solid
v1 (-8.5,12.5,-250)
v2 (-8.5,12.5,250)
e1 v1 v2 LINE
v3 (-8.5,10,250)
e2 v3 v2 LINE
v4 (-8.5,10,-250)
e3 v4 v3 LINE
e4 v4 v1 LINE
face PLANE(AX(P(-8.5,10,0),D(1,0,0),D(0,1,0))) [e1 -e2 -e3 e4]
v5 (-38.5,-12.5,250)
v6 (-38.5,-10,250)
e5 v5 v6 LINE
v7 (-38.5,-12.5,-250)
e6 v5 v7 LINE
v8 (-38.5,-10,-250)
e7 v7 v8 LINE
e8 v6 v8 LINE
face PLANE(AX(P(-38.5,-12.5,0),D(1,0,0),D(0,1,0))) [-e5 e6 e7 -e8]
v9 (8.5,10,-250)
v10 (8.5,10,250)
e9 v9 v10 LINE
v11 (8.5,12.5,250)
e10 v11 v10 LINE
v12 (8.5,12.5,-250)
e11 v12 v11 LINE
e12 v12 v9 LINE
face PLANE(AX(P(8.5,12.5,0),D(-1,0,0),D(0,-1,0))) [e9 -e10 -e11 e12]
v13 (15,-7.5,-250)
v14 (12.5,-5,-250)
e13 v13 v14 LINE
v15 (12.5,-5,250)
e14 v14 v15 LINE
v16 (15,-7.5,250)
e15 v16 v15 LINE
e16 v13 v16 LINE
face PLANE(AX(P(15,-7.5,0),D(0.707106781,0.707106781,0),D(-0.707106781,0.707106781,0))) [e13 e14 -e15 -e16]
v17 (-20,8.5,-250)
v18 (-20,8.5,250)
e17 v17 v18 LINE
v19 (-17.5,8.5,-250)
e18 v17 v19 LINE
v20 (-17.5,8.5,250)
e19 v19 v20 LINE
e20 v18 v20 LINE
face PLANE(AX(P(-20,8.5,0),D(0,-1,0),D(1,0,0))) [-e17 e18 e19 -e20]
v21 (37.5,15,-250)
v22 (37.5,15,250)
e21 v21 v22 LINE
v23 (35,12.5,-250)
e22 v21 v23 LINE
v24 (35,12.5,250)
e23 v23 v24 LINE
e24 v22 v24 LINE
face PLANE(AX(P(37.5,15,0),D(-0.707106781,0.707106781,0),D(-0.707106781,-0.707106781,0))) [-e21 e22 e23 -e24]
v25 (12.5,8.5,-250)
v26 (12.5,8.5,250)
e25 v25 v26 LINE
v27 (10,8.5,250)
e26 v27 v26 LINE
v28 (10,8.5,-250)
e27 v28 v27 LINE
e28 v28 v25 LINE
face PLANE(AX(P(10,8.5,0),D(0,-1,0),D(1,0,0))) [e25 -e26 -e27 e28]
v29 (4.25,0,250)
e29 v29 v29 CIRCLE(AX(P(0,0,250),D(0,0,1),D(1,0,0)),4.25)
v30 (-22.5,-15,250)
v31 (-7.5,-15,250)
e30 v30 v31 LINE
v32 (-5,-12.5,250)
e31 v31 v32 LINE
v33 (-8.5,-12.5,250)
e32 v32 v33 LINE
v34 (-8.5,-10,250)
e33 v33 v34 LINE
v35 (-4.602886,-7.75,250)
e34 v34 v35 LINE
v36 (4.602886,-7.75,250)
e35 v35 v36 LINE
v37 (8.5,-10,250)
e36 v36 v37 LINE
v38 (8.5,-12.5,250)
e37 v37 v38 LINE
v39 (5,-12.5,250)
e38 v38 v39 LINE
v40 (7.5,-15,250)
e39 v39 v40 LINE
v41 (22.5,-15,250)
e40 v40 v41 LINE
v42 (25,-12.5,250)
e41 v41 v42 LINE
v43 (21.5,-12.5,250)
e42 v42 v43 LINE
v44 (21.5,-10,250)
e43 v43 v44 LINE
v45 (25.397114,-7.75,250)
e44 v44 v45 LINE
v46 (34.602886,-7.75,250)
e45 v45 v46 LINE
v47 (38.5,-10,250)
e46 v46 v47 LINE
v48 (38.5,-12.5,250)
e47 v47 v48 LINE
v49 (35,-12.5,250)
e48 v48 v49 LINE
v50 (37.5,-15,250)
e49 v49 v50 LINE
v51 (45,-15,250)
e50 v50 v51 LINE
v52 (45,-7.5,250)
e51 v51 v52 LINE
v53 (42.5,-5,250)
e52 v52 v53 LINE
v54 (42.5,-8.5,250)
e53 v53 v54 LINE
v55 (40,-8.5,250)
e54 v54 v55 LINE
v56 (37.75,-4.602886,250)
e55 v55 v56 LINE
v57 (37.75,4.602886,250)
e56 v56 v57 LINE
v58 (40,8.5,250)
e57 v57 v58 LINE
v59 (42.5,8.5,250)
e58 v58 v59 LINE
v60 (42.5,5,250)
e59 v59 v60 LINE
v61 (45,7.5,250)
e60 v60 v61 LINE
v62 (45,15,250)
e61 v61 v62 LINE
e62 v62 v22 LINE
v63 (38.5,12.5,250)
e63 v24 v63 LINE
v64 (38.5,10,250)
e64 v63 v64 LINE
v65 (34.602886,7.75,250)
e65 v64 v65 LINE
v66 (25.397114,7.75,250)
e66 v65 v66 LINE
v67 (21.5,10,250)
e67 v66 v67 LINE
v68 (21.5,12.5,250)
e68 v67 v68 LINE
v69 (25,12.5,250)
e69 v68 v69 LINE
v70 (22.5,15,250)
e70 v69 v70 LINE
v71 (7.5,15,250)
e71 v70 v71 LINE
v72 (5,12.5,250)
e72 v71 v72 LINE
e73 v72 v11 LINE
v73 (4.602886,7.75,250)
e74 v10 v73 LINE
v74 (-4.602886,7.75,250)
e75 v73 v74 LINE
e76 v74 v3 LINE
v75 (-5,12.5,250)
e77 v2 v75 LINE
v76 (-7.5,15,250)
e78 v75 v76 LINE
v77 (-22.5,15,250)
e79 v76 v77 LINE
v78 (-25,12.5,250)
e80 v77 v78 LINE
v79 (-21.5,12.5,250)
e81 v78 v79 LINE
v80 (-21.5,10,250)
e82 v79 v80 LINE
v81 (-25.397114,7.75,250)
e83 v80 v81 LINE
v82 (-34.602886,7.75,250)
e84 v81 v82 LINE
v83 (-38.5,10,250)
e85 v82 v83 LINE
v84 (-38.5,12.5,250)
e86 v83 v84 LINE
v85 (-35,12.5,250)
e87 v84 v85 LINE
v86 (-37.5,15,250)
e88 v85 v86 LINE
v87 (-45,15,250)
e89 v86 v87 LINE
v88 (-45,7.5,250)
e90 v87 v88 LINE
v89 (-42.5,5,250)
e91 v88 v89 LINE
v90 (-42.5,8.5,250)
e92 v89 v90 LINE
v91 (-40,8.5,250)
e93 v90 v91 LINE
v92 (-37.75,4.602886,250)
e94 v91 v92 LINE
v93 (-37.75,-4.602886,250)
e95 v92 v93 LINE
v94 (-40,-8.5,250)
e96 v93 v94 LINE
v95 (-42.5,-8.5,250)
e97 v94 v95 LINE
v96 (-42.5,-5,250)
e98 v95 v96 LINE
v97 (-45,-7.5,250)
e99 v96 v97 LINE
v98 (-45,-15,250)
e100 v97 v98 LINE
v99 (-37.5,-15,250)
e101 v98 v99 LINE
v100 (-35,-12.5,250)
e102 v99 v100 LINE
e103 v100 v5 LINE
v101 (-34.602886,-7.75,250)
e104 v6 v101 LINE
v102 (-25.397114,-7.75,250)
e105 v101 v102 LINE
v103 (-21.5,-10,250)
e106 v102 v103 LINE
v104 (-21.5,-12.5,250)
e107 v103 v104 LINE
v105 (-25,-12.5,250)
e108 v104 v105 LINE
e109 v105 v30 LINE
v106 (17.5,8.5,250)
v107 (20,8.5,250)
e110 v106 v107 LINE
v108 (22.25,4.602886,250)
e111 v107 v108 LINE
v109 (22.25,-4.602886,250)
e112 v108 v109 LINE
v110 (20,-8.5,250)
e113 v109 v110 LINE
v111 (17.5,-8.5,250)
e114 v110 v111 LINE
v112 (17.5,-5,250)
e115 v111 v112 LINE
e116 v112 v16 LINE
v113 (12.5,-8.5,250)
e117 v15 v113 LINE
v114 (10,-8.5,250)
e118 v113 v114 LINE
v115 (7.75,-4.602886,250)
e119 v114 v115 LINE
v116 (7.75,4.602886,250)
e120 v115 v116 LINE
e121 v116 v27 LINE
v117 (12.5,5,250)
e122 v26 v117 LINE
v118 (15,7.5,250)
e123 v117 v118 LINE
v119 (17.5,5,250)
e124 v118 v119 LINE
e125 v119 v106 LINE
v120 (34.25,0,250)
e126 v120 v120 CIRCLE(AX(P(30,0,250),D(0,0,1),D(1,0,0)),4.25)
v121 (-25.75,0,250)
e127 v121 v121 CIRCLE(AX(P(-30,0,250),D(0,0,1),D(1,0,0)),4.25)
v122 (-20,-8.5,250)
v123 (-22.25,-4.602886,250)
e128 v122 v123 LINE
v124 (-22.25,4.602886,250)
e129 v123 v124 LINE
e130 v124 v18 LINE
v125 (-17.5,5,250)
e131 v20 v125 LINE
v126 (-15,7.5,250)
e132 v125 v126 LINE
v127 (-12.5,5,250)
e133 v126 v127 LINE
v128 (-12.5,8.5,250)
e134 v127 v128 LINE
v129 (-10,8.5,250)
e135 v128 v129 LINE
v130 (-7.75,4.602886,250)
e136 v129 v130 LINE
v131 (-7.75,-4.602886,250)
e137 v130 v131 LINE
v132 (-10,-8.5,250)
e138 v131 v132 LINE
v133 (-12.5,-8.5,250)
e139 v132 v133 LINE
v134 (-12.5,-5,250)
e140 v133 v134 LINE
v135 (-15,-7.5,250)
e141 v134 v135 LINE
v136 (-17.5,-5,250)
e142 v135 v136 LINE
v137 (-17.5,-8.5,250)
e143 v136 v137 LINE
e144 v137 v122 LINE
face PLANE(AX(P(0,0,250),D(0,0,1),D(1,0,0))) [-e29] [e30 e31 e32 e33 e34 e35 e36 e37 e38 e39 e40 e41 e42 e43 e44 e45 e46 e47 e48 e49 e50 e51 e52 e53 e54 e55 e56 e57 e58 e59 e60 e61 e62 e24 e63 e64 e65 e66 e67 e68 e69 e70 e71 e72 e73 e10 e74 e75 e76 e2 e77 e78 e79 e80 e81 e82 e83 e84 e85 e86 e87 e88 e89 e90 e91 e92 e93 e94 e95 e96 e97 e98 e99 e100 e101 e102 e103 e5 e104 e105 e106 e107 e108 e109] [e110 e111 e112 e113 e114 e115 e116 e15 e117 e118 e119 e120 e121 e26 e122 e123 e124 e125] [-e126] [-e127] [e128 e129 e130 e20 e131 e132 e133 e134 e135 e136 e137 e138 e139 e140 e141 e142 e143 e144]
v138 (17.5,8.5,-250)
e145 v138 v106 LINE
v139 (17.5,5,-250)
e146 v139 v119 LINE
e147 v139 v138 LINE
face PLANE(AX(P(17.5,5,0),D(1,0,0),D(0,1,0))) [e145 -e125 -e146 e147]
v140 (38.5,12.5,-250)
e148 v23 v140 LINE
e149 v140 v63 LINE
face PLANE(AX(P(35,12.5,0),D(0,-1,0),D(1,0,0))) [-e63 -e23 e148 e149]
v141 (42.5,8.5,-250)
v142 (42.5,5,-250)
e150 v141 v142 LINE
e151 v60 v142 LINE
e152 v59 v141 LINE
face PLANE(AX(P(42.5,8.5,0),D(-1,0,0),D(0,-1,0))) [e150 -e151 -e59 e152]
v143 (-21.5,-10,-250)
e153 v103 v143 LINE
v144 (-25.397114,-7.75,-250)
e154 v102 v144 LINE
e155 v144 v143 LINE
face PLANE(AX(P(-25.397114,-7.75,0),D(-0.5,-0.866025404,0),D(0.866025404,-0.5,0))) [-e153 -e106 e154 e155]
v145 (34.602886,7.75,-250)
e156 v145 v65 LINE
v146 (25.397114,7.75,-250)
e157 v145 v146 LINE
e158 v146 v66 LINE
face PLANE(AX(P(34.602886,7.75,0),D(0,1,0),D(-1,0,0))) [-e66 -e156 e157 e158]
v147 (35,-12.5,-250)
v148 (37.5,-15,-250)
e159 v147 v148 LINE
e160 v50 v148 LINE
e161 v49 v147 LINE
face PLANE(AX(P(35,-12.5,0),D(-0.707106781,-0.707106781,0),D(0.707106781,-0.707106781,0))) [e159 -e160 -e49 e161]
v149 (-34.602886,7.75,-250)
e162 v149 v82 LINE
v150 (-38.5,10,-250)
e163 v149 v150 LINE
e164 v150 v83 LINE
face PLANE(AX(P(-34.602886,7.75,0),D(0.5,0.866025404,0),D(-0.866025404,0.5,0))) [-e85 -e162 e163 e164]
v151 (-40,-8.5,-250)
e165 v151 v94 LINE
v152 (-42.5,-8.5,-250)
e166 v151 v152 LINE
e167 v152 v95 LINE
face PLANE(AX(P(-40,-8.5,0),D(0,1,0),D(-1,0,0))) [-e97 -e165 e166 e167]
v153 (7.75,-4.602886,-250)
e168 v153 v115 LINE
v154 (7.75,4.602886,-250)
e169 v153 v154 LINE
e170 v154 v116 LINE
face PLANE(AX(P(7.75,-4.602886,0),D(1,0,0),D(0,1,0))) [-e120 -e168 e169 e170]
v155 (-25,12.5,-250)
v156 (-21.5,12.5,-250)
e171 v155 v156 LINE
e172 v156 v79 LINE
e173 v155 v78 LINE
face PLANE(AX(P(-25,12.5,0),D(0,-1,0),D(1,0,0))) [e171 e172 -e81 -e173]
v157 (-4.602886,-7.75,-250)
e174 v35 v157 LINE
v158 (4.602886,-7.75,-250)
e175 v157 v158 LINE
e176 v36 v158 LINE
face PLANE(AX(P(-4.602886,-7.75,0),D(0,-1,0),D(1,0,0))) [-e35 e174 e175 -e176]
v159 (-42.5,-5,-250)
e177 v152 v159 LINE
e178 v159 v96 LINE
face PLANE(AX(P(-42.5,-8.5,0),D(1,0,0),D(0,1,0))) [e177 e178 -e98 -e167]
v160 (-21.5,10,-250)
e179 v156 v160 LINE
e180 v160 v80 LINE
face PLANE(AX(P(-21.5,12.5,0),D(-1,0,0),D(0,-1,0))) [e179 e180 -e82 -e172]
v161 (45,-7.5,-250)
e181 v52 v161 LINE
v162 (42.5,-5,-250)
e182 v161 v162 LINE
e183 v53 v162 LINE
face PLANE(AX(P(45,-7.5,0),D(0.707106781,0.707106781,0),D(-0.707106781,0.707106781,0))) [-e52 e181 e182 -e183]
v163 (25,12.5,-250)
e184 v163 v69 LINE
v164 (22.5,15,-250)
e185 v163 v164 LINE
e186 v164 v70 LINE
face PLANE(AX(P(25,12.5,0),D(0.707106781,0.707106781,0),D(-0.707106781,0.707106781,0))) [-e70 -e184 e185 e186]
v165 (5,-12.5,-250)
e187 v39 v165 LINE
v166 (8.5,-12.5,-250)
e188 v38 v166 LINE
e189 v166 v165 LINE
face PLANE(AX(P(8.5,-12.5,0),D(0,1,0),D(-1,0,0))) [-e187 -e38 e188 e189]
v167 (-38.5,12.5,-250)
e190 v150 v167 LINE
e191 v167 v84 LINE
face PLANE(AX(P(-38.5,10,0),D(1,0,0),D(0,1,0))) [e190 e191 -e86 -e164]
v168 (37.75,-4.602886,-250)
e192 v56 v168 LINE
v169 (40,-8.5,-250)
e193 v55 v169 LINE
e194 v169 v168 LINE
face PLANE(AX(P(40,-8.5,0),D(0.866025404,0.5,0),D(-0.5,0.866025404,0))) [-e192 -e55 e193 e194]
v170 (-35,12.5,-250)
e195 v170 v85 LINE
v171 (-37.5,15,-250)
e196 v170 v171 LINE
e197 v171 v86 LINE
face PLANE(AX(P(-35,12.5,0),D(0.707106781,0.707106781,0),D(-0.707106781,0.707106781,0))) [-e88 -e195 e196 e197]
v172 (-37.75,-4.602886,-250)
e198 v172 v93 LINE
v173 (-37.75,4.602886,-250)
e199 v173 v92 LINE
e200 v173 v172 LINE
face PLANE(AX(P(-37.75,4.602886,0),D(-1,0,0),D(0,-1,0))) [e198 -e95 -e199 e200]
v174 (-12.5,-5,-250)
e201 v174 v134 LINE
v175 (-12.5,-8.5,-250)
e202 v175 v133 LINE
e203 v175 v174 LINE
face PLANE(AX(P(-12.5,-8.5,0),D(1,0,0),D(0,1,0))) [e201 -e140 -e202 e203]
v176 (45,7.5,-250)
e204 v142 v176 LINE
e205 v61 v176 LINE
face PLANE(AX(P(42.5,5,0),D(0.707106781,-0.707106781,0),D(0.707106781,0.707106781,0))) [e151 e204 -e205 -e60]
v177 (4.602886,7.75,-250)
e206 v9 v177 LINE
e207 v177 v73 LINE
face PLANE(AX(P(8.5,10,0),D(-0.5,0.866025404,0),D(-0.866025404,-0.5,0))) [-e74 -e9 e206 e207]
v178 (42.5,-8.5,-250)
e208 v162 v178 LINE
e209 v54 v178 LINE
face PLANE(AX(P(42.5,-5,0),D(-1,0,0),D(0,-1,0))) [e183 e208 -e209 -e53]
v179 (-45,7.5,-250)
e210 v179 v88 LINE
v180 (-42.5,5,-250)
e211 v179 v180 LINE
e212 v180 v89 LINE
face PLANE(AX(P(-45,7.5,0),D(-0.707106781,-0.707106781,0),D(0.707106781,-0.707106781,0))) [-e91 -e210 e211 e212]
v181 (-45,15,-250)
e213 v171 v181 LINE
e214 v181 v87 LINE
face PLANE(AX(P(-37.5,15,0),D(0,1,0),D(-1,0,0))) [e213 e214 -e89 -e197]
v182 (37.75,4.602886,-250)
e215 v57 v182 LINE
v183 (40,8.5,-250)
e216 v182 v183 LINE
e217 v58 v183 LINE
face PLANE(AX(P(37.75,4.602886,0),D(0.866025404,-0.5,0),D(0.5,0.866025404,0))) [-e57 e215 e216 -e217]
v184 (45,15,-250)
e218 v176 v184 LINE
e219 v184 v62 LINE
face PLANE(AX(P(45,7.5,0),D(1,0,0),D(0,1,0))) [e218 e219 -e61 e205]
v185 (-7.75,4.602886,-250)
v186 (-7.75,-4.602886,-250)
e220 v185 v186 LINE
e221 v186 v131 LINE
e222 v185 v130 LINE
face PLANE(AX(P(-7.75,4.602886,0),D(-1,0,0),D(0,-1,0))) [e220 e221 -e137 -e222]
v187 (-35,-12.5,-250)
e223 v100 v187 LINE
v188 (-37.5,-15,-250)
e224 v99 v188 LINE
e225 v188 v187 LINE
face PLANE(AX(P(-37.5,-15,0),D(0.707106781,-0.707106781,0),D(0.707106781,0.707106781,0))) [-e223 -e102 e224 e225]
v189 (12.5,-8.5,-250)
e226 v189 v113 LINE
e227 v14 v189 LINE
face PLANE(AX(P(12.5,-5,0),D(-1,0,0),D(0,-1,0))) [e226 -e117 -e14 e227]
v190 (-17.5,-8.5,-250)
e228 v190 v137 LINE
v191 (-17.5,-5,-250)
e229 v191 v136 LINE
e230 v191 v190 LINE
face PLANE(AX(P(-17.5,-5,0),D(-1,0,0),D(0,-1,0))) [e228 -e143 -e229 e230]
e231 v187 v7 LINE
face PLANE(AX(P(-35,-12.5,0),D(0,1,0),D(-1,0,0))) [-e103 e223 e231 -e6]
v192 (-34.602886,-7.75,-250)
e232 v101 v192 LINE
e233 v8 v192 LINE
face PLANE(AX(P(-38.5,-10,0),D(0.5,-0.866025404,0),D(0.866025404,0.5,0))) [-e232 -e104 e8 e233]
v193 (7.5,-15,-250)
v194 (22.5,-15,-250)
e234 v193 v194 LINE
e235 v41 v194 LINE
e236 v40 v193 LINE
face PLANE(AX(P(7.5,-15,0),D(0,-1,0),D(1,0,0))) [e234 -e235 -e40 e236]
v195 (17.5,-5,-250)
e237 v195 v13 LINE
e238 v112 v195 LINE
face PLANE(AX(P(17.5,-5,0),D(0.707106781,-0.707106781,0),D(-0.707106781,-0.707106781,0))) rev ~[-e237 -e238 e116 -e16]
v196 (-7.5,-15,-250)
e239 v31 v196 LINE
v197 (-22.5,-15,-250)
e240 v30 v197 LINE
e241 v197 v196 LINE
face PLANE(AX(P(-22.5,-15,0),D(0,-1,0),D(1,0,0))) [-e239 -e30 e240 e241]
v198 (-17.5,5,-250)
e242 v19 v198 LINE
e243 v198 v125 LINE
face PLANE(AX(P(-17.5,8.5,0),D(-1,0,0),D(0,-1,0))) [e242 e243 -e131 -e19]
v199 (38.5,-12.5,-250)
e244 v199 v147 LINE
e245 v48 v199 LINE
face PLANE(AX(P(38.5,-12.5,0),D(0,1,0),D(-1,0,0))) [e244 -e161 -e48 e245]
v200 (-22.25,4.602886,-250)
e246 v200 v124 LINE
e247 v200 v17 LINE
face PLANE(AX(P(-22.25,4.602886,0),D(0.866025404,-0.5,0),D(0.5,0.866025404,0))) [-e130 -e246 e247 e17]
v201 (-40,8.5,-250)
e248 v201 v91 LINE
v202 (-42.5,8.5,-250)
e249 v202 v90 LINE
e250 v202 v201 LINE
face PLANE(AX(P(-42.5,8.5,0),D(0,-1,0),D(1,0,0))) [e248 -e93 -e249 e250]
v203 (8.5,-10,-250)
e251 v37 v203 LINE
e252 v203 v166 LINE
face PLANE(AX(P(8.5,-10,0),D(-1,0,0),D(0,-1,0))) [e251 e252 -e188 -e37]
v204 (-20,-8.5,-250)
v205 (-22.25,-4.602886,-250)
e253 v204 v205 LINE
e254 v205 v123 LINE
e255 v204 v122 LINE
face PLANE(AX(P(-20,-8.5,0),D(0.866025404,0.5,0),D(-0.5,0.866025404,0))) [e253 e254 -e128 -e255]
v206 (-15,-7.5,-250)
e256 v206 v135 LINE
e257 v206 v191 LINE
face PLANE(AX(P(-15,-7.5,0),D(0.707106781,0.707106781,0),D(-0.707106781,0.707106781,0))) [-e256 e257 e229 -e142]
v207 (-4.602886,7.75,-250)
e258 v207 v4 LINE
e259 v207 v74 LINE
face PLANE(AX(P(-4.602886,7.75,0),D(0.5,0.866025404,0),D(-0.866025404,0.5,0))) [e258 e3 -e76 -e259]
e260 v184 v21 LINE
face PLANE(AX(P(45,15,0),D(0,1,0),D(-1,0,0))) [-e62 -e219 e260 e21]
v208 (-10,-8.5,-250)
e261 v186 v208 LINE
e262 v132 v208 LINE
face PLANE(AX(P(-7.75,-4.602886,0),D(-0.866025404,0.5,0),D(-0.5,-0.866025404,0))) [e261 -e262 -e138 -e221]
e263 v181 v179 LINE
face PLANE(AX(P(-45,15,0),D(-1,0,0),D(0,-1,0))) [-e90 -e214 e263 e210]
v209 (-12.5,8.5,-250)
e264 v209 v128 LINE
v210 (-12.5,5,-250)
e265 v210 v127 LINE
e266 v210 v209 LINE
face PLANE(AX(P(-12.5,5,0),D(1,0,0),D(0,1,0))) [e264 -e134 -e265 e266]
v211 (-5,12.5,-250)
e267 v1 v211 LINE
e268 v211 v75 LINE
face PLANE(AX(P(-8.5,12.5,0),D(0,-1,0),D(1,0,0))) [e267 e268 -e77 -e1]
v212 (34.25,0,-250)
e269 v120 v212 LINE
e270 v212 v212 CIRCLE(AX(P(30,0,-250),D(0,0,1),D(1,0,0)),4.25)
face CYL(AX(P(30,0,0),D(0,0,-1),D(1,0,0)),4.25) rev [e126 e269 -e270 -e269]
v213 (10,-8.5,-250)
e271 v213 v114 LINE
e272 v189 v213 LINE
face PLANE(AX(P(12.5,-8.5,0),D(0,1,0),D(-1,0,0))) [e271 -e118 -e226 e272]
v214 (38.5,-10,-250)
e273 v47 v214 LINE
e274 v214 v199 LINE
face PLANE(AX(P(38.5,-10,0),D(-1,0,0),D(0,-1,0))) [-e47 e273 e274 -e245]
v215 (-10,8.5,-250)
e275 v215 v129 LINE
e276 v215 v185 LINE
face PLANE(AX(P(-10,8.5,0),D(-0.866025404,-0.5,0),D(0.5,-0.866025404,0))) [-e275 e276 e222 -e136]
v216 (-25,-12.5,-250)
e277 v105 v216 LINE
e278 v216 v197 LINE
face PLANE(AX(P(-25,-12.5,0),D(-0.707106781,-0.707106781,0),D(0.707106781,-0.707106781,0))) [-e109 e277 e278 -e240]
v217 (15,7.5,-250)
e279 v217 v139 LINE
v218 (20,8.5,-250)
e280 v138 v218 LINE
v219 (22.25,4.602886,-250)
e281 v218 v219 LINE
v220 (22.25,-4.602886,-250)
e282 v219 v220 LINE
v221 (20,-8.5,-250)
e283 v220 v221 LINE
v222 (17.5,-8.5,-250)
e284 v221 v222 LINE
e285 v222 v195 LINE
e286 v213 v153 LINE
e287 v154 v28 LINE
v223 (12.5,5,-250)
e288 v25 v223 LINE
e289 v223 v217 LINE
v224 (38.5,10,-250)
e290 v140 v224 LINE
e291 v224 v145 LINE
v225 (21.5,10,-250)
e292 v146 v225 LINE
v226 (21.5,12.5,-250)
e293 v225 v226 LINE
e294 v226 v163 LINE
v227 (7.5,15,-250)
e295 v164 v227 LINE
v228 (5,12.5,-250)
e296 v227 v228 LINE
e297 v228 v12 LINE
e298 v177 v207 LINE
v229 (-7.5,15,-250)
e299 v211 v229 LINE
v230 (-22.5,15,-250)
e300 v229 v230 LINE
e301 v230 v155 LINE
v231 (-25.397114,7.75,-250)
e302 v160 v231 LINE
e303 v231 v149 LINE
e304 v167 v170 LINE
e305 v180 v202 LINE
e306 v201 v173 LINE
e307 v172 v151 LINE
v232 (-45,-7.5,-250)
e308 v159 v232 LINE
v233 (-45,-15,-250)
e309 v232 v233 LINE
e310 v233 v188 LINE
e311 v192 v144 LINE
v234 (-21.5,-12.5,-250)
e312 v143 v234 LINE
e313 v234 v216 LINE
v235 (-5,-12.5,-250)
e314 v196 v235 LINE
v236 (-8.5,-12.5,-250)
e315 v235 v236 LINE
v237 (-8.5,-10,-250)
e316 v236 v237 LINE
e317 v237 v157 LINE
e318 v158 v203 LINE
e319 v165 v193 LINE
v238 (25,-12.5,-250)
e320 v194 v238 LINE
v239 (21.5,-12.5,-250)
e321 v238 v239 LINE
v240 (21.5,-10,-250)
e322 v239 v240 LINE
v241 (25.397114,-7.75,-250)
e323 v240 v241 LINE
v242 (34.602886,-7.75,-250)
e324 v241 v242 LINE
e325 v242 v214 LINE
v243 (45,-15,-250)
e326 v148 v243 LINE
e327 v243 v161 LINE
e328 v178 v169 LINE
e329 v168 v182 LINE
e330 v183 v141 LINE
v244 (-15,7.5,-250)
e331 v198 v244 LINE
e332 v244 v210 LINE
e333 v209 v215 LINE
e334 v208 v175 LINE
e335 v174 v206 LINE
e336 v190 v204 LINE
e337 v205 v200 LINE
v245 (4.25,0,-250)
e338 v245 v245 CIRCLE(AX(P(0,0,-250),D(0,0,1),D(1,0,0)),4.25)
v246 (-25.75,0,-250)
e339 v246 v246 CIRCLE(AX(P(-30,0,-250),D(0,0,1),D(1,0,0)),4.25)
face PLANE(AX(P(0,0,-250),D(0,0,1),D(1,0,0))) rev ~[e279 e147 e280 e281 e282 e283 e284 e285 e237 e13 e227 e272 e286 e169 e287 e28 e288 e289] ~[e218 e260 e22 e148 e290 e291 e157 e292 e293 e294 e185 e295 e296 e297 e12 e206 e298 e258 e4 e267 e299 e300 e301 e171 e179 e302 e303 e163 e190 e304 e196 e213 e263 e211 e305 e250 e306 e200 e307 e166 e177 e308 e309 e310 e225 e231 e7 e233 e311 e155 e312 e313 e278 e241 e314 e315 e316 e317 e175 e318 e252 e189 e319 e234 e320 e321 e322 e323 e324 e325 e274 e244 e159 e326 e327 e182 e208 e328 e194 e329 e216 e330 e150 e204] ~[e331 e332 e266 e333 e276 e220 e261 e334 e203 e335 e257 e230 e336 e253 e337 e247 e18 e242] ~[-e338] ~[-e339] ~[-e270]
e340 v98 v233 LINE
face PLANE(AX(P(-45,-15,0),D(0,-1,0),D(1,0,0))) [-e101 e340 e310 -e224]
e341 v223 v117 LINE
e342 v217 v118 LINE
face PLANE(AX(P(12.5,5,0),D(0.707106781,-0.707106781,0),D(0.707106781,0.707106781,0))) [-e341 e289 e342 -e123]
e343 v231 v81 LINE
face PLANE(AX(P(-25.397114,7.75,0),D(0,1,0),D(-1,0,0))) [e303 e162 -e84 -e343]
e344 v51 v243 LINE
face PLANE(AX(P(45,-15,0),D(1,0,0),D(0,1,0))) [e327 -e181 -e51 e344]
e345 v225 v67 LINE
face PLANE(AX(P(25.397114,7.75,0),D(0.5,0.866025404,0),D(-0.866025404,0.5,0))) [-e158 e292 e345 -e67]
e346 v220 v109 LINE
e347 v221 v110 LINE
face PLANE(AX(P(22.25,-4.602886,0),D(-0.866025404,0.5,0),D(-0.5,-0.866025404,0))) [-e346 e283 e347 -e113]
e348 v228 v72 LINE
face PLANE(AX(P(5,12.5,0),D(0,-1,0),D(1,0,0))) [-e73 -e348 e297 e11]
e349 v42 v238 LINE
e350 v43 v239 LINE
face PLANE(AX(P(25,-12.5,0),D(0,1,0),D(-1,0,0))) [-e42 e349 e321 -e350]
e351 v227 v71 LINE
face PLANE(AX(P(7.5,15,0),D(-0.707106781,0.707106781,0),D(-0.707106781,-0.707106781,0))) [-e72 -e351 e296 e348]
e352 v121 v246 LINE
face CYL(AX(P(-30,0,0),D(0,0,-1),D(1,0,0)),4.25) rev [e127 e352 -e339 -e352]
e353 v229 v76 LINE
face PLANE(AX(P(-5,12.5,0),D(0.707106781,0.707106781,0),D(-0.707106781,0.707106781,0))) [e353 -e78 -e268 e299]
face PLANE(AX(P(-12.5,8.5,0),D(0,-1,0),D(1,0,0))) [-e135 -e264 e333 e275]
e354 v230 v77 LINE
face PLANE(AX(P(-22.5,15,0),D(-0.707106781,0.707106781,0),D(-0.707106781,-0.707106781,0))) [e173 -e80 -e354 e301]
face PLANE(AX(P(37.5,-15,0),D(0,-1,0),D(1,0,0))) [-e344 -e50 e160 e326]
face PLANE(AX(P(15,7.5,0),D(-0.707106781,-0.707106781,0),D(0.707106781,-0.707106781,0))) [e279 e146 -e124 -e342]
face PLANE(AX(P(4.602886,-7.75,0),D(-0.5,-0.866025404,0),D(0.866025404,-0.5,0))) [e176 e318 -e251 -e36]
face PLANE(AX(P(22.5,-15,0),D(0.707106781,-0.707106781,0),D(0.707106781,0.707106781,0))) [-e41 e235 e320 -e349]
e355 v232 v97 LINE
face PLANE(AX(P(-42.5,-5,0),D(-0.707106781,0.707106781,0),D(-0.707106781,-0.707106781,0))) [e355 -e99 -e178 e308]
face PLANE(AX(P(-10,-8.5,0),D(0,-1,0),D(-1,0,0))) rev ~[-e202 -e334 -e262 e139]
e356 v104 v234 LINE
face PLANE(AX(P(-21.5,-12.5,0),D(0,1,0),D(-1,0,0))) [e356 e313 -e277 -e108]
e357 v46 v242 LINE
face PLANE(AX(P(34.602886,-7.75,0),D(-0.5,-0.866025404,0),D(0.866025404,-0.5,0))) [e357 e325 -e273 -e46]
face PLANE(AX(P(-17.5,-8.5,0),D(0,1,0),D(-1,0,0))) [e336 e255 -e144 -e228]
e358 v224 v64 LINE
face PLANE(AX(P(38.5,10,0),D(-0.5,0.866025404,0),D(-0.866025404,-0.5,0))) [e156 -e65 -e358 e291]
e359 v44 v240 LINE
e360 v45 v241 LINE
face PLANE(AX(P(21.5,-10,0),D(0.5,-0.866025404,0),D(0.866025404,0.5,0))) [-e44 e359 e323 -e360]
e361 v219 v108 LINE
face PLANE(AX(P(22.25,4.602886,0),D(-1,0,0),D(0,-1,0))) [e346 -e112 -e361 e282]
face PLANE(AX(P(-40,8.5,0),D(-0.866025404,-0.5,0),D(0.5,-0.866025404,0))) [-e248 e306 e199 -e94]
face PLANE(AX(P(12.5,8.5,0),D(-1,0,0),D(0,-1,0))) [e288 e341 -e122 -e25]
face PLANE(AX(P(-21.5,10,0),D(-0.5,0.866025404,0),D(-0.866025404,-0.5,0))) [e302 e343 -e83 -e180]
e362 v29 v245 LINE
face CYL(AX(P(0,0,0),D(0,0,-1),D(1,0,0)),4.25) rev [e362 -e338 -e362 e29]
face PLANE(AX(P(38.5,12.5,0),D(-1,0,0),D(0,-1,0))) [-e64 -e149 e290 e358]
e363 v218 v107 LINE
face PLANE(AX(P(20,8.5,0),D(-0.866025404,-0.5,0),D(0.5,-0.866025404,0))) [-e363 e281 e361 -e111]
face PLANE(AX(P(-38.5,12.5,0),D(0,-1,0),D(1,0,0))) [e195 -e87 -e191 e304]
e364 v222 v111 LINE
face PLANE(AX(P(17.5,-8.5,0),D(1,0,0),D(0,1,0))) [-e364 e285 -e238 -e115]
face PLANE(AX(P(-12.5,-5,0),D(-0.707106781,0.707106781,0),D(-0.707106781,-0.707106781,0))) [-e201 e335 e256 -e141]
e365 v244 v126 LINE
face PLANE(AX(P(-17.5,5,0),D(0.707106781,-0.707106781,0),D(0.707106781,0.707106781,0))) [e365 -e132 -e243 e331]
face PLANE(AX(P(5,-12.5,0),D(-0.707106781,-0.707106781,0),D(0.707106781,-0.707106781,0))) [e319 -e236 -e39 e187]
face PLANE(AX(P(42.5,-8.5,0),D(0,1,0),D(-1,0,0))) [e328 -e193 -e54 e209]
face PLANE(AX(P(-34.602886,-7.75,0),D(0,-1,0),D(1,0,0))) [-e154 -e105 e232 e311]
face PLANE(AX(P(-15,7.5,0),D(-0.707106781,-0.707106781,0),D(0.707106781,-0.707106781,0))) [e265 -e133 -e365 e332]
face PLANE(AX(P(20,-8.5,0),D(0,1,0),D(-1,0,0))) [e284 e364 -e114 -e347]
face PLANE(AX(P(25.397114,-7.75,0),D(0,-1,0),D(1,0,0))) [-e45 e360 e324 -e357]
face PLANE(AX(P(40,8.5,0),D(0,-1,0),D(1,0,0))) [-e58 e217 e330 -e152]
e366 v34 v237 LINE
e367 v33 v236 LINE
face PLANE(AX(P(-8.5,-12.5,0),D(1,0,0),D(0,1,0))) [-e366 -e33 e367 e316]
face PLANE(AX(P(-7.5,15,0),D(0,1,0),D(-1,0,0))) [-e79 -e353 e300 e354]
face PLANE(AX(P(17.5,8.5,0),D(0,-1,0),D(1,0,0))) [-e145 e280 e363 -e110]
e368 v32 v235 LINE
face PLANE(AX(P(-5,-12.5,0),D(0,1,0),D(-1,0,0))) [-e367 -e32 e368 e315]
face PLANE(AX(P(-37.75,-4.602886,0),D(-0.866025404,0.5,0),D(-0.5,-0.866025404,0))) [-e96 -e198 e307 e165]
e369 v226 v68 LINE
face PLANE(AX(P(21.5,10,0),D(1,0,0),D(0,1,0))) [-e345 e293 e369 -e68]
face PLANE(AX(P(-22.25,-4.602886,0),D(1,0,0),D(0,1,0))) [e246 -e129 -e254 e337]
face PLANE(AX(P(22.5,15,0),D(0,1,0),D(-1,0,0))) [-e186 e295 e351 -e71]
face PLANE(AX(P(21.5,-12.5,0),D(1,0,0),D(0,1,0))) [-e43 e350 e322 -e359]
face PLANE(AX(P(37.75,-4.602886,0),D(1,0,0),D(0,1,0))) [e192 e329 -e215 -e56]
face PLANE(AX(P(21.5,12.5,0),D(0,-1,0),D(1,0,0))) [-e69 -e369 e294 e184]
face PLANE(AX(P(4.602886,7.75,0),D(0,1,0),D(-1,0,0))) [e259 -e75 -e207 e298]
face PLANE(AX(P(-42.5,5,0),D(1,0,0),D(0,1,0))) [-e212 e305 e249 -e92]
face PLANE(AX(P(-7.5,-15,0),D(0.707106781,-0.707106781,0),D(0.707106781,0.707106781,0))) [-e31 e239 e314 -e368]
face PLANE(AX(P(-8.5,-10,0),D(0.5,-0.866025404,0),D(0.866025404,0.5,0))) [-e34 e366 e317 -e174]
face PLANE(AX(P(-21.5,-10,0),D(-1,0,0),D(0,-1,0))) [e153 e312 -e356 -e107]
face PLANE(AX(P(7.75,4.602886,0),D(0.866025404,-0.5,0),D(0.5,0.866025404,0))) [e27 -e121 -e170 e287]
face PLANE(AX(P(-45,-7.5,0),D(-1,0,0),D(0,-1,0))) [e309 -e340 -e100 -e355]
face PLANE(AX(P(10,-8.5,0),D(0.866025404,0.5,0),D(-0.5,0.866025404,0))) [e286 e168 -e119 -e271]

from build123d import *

# Parameters (mm, degrees)
SKETCH1_R           = 4.25
BOSS_EXTRUDE1_DEPTH = 250


with BuildPart() as part:
    # Sketch1 → Boss-Extrude1 (new, symmetric)
    with BuildSketch(Plane.XY):
        Polygon((45, 7.5), (45, 15), (37.5, 15), (35, 12.5), (38.5, 12.5), (38.5, 10), (34.602885683, 7.75), (25.397114317, 7.75), (21.5, 10), (21.5, 12.5), (25, 12.5), (22.5, 15), (7.5, 15), (5, 12.5), (8.5, 12.5), (8.5, 10), (4.602885683, 7.75), (-4.602885683, 7.75), (-8.5, 10), (-8.5, 12.5), (-5, 12.5), (-7.5, 15), (-22.5, 15), (-25, 12.5), (-21.5, 12.5), (-21.5, 10), (-25.397114317, 7.75), (-34.602885683, 7.75), (-38.5, 10), (-38.5, 12.5), (-35, 12.5), (-37.5, 15), (-45, 15), (-45, 7.5), (-42.5, 5), (-42.5, 8.5), (-40, 8.5), (-37.75, 4.602885683), (-37.75, -4.602885683), (-40, -8.5), (-42.5, -8.5), (-42.5, -5), (-45, -7.5), (-45, -15), (-37.5, -15), (-35, -12.5), (-38.5, -12.5), (-38.5, -10), (-34.602885683, -7.75), (-25.397114317, -7.75), (-21.5, -10), (-21.5, -12.5), (-25, -12.5), (-22.5, -15), (-7.5, -15), (-5, -12.5), (-8.5, -12.5), (-8.5, -10), (-4.602885683, -7.75), (4.602885683, -7.75), (8.5, -10), (8.5, -12.5), (5, -12.5), (7.5, -15), (22.5, -15), (25, -12.5), (21.5, -12.5), (21.5, -10), (25.397114317, -7.75), (34.602885683, -7.75), (38.5, -10), (38.5, -12.5), (35, -12.5), (37.5, -15), (45, -15), (45, -7.5), (42.5, -5), (42.5, -8.5), (40, -8.5), (37.75, -4.602885683), (37.75, 4.602885683), (40, 8.5), (42.5, 8.5), (42.5, 5), align=None)
        with Locations((-30, 0)):
            Circle(SKETCH1_R, mode=Mode.SUBTRACT)
        Polygon((-17.5, 8.5), (-17.5, 5), (-15, 7.5), (-12.5, 5), (-12.5, 8.5), (-10, 8.5), (-7.75, 4.602885683), (-7.75, -4.602885683), (-10, -8.5), (-12.5, -8.5), (-12.5, -5), (-15, -7.5), (-17.5, -5), (-17.5, -8.5), (-20, -8.5), (-22.25, -4.602885683), (-22.25, 4.602885683), (-20, 8.5), align=None, mode=Mode.SUBTRACT)
        Circle(SKETCH1_R, mode=Mode.SUBTRACT)
        Polygon((15, 7.5), (17.5, 5), (17.5, 8.5), (20, 8.5), (22.25, 4.602885683), (22.25, -4.602885683), (20, -8.5), (17.5, -8.5), (17.5, -5), (15, -7.5), (12.5, -5), (12.5, -8.5), (10, -8.5), (7.75, -4.602885683), (7.75, 4.602885683), (10, 8.5), (12.5, 8.5), (12.5, 5), align=None, mode=Mode.SUBTRACT)
        with Locations((30, 0)):
            Circle(SKETCH1_R, mode=Mode.SUBTRACT)
    extrude(amount=BOSS_EXTRUDE1_DEPTH, both=True)


solid = part.part
